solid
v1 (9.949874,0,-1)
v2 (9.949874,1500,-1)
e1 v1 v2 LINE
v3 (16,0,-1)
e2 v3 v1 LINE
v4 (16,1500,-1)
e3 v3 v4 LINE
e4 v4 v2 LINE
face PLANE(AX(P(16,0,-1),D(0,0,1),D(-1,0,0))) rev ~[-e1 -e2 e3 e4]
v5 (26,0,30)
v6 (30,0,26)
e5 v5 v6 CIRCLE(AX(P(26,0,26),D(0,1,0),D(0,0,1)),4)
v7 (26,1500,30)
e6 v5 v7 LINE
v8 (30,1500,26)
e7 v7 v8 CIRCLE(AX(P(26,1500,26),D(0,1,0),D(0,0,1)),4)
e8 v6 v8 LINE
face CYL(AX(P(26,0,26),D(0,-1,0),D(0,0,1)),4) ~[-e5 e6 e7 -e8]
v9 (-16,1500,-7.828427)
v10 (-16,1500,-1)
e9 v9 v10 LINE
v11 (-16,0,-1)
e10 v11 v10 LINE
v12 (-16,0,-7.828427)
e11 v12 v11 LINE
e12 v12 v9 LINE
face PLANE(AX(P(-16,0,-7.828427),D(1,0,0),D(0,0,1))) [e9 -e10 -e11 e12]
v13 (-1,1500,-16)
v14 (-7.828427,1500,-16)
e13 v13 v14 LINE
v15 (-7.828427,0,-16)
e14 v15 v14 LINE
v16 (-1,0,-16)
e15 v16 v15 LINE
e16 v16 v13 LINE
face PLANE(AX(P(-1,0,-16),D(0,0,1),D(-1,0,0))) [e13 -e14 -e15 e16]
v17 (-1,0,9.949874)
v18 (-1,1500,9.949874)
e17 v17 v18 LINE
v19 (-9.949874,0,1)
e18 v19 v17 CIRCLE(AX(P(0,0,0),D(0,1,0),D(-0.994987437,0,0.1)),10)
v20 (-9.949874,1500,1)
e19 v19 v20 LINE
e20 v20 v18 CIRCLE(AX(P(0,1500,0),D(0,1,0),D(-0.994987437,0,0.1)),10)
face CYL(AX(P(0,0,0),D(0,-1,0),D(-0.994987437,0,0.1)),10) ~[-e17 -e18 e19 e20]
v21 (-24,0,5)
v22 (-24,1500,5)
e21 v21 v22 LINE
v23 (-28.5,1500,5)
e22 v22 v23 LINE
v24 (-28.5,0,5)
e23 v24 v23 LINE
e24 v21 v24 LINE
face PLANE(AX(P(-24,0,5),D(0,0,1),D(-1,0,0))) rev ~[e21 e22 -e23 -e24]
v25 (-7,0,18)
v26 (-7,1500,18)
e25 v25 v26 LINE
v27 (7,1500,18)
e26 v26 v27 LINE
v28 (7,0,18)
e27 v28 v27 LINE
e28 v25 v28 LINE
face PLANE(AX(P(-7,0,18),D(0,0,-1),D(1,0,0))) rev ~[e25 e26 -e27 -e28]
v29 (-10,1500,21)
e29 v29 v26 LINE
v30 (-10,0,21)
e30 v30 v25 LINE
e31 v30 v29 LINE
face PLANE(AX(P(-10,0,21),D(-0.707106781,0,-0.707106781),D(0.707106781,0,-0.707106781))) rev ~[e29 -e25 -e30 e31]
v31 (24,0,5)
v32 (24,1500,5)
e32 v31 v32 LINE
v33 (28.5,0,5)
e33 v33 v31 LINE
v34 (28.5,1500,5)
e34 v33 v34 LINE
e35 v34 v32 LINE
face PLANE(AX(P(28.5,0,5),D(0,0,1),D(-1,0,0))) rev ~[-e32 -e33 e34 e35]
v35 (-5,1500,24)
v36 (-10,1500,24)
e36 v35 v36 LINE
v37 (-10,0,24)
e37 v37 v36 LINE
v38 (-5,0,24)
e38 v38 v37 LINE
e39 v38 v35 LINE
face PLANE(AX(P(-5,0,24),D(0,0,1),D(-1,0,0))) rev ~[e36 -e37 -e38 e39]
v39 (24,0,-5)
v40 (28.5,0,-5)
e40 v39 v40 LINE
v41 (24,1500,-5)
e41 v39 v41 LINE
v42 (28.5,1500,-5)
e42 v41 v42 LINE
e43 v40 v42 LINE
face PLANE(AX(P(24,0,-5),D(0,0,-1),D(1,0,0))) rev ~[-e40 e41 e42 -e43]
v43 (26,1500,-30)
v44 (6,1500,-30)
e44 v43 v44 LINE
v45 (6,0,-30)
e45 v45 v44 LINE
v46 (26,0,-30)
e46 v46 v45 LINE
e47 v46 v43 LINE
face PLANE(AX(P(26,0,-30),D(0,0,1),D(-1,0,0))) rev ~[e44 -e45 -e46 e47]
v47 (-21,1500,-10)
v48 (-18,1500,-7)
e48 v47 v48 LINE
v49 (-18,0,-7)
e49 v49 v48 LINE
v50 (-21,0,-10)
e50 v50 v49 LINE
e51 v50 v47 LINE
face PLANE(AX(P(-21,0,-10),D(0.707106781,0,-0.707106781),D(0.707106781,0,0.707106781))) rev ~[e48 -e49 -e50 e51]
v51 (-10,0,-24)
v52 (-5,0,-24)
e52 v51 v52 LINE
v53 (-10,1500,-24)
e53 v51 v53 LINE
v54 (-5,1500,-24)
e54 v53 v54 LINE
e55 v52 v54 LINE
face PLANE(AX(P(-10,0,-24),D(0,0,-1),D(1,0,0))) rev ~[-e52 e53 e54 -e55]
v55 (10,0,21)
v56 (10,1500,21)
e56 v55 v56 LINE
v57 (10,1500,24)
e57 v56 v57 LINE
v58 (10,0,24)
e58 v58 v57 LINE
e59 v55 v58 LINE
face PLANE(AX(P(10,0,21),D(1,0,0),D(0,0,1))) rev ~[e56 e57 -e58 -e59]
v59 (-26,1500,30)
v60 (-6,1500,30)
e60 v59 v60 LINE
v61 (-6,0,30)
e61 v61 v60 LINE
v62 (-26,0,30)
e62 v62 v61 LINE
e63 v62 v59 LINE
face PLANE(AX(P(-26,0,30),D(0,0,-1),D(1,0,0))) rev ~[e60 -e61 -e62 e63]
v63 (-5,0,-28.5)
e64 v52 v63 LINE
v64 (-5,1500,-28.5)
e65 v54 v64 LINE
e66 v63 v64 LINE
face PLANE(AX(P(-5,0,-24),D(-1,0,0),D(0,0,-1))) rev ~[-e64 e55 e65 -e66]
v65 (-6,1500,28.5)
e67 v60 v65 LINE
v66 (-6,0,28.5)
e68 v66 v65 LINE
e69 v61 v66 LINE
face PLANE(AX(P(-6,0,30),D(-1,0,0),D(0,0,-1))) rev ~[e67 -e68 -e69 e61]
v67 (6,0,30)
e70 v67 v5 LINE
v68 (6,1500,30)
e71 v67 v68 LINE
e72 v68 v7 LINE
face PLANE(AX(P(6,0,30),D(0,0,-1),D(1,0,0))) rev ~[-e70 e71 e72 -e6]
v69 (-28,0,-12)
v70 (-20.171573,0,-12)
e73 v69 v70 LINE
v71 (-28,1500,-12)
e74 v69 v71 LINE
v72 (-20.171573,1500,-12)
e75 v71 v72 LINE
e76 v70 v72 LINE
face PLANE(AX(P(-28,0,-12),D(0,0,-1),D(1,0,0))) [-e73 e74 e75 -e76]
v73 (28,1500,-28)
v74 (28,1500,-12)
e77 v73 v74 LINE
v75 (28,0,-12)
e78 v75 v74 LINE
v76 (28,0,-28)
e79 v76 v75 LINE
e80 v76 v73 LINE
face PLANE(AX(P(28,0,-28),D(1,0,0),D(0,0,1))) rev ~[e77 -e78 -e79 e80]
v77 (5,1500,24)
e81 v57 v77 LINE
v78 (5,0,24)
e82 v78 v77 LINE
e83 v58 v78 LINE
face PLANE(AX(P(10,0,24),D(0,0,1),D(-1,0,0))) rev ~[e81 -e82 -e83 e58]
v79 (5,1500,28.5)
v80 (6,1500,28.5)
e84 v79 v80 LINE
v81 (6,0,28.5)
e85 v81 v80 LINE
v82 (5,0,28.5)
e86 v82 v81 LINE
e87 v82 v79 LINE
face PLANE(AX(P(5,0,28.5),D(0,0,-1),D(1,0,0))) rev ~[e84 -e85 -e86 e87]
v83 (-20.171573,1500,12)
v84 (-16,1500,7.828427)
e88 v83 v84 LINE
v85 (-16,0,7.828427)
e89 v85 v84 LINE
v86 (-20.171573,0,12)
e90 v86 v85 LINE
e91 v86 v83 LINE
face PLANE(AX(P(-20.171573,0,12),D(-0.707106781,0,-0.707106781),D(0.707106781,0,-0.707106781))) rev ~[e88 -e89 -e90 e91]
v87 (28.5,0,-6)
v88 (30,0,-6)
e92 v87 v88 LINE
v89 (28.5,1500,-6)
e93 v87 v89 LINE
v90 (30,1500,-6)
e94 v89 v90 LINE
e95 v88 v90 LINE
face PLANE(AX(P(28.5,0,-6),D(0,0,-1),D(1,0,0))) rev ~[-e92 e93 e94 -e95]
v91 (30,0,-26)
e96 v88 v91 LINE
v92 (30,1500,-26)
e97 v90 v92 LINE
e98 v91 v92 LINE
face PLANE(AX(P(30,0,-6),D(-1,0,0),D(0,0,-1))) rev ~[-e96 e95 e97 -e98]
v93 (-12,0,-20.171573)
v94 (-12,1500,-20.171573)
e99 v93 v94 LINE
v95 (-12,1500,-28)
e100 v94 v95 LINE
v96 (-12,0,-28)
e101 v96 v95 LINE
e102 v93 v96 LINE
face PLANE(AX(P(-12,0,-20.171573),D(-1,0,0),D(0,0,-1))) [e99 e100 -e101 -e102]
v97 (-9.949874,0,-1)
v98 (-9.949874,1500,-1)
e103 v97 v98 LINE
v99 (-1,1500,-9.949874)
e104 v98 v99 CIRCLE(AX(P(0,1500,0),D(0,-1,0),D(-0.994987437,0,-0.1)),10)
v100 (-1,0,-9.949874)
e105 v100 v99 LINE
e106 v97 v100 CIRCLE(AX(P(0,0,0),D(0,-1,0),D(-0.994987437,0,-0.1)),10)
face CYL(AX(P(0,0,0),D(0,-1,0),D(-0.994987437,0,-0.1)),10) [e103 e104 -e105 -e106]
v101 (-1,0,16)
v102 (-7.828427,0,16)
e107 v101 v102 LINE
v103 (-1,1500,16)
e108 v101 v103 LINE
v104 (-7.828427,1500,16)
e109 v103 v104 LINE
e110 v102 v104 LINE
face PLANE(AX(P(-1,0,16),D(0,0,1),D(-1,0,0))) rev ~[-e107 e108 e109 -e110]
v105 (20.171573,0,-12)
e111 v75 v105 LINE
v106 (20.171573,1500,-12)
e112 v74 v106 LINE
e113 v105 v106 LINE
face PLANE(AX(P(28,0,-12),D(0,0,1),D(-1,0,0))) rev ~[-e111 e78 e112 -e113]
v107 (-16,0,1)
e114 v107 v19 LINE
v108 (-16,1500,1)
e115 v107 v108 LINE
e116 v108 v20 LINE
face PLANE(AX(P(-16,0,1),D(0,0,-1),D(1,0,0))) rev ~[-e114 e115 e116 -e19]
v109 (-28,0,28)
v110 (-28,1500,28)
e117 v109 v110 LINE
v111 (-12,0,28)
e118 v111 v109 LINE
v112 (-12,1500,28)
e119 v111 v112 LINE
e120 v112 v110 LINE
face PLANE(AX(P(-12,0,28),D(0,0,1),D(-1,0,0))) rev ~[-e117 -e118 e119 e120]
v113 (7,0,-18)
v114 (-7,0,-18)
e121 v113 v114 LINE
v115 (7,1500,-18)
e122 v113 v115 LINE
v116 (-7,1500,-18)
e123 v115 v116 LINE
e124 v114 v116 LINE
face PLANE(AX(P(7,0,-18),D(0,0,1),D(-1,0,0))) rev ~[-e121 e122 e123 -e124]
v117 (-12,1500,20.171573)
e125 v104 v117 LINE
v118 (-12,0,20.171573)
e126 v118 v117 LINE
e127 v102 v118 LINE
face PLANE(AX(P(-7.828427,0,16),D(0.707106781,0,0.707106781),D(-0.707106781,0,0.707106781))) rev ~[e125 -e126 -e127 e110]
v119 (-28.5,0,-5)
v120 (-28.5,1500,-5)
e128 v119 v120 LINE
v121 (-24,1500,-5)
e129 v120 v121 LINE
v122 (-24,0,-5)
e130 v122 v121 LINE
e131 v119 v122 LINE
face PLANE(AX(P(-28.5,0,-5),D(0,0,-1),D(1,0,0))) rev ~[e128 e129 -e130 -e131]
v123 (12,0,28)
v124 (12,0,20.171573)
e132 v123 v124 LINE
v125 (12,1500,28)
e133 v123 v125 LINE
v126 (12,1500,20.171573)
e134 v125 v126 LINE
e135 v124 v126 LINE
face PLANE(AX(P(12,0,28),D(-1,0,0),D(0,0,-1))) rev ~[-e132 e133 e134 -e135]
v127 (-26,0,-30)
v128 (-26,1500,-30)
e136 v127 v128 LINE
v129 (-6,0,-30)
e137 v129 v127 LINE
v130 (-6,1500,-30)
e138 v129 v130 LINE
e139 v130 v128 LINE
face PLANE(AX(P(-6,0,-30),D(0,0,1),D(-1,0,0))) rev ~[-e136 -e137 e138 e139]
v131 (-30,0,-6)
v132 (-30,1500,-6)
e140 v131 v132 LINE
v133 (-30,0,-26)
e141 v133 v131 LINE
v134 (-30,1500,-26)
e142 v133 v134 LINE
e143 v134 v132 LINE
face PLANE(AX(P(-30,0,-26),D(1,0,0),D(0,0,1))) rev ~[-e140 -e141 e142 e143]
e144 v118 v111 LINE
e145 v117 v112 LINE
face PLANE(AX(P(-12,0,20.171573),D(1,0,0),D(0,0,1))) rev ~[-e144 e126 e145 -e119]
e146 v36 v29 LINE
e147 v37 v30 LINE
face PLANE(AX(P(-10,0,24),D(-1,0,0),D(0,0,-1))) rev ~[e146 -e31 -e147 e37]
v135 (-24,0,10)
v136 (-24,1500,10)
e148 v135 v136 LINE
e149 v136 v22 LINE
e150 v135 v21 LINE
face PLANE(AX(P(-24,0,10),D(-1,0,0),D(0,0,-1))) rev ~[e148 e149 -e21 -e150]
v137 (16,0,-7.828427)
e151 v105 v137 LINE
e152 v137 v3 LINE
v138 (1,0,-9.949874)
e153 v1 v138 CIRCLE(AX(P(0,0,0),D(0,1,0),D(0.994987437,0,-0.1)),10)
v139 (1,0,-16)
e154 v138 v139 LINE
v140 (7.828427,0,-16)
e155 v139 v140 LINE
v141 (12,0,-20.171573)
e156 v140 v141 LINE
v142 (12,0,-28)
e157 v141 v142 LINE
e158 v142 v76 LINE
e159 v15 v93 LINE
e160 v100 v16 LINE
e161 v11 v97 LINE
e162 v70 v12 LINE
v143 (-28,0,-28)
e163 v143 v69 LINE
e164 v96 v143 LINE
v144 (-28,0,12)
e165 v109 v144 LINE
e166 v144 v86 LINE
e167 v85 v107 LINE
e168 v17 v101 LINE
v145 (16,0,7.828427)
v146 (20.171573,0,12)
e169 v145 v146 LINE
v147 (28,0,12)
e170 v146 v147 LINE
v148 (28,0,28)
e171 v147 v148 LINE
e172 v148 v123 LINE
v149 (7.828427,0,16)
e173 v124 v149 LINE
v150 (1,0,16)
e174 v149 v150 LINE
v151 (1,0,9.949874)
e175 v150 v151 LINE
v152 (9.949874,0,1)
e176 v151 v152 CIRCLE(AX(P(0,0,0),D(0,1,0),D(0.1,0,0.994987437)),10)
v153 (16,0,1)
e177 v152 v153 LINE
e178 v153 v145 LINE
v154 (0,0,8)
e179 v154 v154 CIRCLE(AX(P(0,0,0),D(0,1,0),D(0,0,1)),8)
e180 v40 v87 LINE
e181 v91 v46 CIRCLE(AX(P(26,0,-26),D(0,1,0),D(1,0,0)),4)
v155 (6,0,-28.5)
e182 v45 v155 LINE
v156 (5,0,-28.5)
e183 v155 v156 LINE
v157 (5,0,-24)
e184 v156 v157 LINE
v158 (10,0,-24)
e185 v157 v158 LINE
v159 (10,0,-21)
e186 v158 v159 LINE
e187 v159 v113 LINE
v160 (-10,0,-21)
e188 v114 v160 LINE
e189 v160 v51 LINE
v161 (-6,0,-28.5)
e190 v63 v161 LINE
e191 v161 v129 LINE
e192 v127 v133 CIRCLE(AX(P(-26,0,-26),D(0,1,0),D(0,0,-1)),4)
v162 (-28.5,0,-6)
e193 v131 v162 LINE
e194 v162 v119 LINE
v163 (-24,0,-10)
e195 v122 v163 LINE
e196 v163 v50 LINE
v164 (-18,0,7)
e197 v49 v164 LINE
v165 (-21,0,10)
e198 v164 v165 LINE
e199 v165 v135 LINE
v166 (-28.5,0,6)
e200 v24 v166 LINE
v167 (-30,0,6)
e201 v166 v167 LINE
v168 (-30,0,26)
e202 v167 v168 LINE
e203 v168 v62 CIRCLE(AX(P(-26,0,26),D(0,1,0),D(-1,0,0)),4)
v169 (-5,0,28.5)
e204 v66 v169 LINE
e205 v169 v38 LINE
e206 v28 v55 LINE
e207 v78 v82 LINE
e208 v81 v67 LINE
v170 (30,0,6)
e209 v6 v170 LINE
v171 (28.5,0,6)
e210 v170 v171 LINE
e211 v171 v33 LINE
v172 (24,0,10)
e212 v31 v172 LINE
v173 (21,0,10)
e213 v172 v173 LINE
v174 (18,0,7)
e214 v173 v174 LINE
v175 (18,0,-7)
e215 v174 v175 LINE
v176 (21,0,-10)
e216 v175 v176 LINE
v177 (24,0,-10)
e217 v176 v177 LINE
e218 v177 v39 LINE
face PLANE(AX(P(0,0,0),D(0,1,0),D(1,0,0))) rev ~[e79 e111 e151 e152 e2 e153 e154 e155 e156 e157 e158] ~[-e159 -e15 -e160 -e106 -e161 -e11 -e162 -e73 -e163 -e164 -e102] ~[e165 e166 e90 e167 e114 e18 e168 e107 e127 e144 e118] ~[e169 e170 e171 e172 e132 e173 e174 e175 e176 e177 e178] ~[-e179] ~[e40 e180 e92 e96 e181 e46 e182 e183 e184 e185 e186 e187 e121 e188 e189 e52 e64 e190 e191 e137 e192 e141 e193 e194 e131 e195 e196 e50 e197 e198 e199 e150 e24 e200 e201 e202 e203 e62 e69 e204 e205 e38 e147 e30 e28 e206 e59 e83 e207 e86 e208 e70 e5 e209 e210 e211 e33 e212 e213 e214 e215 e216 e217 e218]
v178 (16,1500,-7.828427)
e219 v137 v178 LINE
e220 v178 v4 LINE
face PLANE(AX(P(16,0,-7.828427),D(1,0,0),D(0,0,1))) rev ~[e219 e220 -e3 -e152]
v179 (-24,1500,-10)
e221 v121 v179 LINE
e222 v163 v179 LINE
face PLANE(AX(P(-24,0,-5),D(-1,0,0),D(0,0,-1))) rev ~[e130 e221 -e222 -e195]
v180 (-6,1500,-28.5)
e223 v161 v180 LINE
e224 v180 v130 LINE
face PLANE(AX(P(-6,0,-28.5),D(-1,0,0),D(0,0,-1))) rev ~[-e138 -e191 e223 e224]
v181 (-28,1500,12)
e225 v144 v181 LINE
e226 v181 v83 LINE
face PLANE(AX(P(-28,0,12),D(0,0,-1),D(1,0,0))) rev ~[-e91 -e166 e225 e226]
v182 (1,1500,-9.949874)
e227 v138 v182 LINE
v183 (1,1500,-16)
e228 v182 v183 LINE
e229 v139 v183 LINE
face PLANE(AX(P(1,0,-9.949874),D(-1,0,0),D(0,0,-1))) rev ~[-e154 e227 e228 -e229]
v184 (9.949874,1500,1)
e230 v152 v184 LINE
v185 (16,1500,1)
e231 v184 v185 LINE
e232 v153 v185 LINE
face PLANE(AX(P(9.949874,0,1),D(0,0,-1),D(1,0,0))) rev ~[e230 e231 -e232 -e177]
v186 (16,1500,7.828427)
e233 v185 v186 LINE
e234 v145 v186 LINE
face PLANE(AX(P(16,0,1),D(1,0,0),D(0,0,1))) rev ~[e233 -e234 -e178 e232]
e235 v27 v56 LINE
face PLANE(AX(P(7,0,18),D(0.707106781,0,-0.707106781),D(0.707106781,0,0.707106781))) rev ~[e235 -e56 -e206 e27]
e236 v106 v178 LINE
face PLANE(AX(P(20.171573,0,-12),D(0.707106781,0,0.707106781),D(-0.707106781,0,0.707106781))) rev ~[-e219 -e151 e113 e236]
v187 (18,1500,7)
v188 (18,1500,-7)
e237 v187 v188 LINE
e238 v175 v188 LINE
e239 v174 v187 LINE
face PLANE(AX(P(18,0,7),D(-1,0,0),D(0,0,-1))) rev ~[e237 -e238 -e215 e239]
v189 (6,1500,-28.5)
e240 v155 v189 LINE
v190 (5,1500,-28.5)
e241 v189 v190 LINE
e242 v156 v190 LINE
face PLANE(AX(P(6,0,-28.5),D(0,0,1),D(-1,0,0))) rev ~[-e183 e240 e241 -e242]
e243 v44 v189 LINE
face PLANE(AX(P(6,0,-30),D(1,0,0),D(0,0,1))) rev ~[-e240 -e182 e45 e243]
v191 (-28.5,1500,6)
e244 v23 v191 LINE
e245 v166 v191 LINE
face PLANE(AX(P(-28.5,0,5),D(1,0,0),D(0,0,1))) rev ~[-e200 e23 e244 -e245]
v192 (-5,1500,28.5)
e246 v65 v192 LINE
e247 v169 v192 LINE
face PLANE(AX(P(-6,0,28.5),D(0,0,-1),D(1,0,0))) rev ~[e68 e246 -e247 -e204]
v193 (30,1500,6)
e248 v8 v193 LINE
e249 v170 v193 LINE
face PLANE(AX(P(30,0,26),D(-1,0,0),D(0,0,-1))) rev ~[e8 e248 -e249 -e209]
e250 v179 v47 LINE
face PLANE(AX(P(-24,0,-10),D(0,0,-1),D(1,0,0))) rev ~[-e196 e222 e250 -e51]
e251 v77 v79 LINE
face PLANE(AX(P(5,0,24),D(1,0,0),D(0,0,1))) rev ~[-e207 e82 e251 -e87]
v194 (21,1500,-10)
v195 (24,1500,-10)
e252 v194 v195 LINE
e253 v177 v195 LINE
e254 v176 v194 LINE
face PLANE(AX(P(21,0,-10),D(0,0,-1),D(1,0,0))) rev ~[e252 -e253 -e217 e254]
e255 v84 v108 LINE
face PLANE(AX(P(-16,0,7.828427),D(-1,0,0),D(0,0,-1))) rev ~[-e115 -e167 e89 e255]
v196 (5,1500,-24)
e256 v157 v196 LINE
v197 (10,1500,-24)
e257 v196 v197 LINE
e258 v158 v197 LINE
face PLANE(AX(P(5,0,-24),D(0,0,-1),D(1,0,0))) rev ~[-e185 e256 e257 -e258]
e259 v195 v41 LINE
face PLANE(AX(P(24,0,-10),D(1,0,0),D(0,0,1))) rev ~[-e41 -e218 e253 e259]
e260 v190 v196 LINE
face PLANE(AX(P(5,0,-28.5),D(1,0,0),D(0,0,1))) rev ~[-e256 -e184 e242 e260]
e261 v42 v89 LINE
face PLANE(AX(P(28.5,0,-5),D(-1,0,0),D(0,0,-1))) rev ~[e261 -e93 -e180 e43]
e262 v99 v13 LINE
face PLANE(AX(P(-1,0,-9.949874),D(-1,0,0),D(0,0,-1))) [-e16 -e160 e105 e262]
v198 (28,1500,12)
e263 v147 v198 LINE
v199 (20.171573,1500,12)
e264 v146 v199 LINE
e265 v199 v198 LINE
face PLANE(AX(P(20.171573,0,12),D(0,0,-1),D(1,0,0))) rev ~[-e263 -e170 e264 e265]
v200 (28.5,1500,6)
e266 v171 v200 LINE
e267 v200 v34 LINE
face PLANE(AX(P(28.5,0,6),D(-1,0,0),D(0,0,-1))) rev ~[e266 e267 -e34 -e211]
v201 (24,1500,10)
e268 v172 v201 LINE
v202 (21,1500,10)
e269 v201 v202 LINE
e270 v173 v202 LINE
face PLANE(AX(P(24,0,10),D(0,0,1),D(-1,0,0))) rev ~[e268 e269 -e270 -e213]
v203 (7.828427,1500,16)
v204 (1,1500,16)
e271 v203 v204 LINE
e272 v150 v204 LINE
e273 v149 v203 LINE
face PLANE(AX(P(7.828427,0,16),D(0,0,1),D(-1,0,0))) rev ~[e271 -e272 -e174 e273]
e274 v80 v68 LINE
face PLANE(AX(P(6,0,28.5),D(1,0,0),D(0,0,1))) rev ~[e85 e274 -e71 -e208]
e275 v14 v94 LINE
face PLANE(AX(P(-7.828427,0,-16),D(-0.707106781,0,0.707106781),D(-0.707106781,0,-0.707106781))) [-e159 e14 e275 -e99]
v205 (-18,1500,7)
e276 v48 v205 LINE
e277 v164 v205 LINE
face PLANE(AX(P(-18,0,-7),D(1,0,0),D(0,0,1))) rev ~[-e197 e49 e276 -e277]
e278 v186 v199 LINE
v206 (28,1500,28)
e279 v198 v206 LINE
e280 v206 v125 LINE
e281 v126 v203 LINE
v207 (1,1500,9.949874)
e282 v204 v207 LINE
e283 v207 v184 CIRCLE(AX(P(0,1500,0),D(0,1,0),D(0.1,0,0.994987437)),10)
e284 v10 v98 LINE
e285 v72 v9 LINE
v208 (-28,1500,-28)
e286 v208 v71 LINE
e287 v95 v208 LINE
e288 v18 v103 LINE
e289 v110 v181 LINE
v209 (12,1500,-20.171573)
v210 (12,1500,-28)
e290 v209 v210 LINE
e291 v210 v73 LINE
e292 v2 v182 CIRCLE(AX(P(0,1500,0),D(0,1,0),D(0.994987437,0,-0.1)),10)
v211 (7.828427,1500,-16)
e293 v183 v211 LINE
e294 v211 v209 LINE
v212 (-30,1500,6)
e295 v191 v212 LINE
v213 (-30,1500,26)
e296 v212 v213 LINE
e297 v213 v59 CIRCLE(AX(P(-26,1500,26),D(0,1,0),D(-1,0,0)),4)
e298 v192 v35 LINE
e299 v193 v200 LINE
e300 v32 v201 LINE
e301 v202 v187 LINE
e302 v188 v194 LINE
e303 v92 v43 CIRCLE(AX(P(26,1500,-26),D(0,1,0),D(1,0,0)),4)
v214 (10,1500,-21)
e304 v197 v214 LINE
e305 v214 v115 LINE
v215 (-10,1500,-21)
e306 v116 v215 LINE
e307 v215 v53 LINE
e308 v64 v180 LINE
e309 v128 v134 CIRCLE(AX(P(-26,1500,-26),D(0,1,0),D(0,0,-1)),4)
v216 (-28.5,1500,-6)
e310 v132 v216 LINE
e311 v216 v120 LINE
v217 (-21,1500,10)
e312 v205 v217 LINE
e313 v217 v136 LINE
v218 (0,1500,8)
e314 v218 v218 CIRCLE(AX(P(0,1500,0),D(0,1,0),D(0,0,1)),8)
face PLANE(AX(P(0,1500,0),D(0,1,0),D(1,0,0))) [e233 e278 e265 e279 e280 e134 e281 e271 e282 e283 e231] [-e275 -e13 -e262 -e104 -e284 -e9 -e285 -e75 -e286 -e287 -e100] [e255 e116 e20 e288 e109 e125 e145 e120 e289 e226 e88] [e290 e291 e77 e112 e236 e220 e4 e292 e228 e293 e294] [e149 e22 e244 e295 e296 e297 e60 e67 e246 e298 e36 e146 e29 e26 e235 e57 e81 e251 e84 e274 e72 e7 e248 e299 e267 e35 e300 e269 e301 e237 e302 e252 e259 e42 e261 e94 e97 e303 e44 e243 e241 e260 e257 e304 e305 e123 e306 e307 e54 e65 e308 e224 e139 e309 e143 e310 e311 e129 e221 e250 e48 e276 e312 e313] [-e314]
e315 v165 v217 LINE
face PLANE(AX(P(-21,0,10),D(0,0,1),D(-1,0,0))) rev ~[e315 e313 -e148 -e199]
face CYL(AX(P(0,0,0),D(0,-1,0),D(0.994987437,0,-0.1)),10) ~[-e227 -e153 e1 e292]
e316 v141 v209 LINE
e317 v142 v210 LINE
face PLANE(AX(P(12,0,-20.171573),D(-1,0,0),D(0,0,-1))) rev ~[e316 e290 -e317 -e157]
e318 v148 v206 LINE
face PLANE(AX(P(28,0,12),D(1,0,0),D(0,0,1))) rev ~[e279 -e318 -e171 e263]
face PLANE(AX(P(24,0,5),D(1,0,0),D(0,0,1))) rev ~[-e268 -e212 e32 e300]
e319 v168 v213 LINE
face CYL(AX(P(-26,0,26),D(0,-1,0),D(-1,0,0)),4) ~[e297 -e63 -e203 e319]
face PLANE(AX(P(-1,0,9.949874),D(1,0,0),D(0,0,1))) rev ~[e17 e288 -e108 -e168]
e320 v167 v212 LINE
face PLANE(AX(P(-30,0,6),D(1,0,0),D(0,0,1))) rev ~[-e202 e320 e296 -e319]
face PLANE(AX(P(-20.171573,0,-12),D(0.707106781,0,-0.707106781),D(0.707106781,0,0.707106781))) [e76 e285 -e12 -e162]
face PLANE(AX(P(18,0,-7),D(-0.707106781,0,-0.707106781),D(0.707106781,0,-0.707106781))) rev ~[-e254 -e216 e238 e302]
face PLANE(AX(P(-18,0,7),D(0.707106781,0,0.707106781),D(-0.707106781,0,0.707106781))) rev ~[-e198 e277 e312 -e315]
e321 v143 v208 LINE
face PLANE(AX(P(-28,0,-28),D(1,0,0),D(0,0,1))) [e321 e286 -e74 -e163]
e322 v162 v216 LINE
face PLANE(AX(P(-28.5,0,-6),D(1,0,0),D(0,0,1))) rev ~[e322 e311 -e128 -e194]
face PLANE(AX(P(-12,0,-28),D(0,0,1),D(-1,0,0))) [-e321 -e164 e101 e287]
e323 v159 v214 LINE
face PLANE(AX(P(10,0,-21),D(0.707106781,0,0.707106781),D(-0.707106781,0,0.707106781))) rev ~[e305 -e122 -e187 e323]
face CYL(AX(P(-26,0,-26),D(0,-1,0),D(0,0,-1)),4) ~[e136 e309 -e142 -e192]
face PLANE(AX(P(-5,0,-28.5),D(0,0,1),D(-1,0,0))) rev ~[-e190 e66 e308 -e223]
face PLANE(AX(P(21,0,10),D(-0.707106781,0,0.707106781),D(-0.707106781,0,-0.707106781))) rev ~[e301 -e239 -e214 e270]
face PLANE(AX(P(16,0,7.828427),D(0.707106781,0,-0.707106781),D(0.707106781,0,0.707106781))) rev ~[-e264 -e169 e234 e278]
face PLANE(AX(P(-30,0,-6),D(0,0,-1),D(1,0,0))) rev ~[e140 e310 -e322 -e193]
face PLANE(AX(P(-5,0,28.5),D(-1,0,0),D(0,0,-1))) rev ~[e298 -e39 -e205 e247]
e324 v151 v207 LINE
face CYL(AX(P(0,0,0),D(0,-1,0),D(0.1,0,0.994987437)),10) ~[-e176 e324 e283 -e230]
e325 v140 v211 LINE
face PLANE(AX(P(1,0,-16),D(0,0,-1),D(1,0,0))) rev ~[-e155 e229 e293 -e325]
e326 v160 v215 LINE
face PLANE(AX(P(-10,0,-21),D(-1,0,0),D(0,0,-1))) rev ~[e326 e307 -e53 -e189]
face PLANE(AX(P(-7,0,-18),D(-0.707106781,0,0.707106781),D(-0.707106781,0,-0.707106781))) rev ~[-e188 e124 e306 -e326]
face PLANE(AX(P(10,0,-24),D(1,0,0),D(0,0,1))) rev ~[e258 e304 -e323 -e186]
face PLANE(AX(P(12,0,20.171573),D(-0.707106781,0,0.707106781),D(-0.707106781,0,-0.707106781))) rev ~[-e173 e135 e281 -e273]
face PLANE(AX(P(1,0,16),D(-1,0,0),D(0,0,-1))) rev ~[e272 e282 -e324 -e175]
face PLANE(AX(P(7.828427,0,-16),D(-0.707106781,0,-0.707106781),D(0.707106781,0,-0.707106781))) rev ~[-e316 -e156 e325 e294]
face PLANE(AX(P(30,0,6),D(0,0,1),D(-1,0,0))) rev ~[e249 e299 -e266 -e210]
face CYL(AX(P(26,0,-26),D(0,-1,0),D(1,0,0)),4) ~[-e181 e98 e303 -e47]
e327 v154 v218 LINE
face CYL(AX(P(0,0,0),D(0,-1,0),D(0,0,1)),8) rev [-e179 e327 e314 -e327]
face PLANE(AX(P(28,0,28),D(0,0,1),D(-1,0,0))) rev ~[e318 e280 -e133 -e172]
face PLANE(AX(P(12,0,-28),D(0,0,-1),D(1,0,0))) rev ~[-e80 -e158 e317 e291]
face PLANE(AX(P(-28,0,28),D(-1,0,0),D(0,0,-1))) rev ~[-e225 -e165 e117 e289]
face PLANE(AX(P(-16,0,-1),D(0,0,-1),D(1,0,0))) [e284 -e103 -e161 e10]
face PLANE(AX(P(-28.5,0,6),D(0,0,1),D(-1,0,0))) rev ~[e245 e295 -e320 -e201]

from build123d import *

# Parameters (mm, degrees)
SKETCH_1_R      = 8
EXTRUDE_1_DEPTH = 1500


with BuildPart() as part:
    # 草图1 → 凸台-拉伸1 (new body)
    with BuildSketch(Plane(origin=(0, 0, 0), x_dir=(1, 0, 0), z_dir=(0, 1, 0))):
        with BuildLine():
            Line((-30, 5.999999999), (-28.5, 5.999999999))
            Line((-28.5, 5.999999999), (-28.5, 4.999999999))
            Line((-28.5, 4.999999999), (-24, 4.999999999))
            Line((-24, 4.999999999), (-24, 9.999999999))
            Line((-24, 9.999999999), (-21, 9.999999999))
            Line((-21, 9.999999999), (-18, 6.999999999))
            Line((-18, 6.999999999), (-18, -7.000000001))
            Line((-18, -7.000000001), (-21, -10.000000001))
            Line((-21, -10.000000001), (-24, -10.000000001))
            Line((-24, -10.000000001), (-24, -5.000000001))
            Line((-24, -5.000000001), (-28.5, -5.000000001))
            Line((-28.5, -5.000000001), (-28.5, -6.000000001))
            Line((-28.5, -6.000000001), (-30, -6.000000001))
            Line((-30, -6.000000001), (-30, -26.000000001))
            ThreePointArc((-30, -26.000000001), (-28.828427125, -28.828427126), (-26, -30.000000001))
            Line((-26, -30.000000001), (-6, -30.000000001))
            Line((-6, -30.000000001), (-6, -28.500000001))
            Line((-6, -28.500000001), (-5, -28.500000001))
            Line((-5, -28.500000001), (-5, -24.000000001))
            Line((-5, -24.000000001), (-10, -24.000000001))
            Line((-10, -24.000000001), (-10, -21.000000001))
            Line((-10, -21.000000001), (-7, -18.000000001))
            Line((-7, -18.000000001), (7, -18.000000001))
            Line((7, -18.000000001), (10, -21.000000001))
            Line((10, -21.000000001), (10, -24.000000001))
            Line((10, -24.000000001), (5, -24.000000001))
            Line((5, -24.000000001), (5, -28.500000001))
            Line((5, -28.500000001), (6, -28.500000001))
            Line((6, -28.500000001), (6, -30.000000001))
            Line((6, -30.000000001), (26, -30.000000001))
            ThreePointArc((26, -30.000000001), (28.828427125, -28.828427126), (30, -26.000000001))
            Line((30, -26.000000001), (30, -6.000000001))
            Line((30, -6.000000001), (28.5, -6.000000001))
            Line((28.5, -6.000000001), (28.5, -5.000000001))
            Line((28.5, -5.000000001), (24, -5.000000001))
            Line((24, -5.000000001), (24, -10.000000001))
            Line((24, -10.000000001), (21, -10.000000001))
            Line((21, -10.000000001), (18, -7.000000001))
            Line((18, -7.000000001), (18, 6.999999999))
            Line((18, 6.999999999), (21, 9.999999999))
            Line((21, 9.999999999), (24, 9.999999999))
            Line((24, 9.999999999), (24, 4.999999999))
            Line((24, 4.999999999), (28.5, 4.999999999))
            Line((28.5, 4.999999999), (28.5, 5.999999999))
            Line((28.5, 5.999999999), (30, 5.999999999))
            Line((30, 5.999999999), (30, 25.999999999))
            ThreePointArc((30, 25.999999999), (28.828427125, 28.828427124), (26, 29.999999999))
            Line((26, 29.999999999), (6, 29.999999999))
            Line((6, 29.999999999), (6, 28.499999999))
            Line((6, 28.499999999), (5, 28.499999999))
            Line((5, 28.499999999), (5, 23.999999999))
            Line((5, 23.999999999), (10, 23.999999999))
            Line((10, 23.999999999), (10, 20.999999999))
            Line((10, 20.999999999), (7, 17.999999999))
            Line((7, 17.999999999), (-7, 17.999999999))
            Line((-7, 17.999999999), (-10, 20.999999999))
            Line((-10, 20.999999999), (-10, 23.999999999))
            Line((-10, 23.999999999), (-5, 23.999999999))
            Line((-5, 23.999999999), (-5, 28.499999999))
            Line((-5, 28.499999999), (-6, 28.499999999))
            Line((-6, 28.499999999), (-6, 29.999999999))
            Line((-6, 29.999999999), (-26.000000001, 29.999999999))
            ThreePointArc((-26.000000001, 29.999999999), (-28.828427125, 28.828427123), (-30, 25.999999999))
            Line((-30, 25.999999999), (-30, 5.999999999))
        make_face()
        with Locations(Location((0, 0, 0), (0, 0, 270))):
            Circle(SKETCH_1_R, mode=Mode.SUBTRACT)
        with BuildLine():
            Line((-16, 1), (-9.949874371, 1))
            ThreePointArc((-9.949874371, 1), (-7.071067812, 7.071067811), (-1.000000001, 9.949874371))
            Line((-1.000000001, 9.949874371), (-1.000000001, 16))
            Line((-1.000000001, 16), (-7.828427125, 16))
            Line((-7.828427125, 16), (-12, 20.171572875))
            Line((-12, 20.171572875), (-12, 28))
            Line((-12, 28), (-28, 28))
            Line((-28, 28), (-28, 12))
            Line((-28, 12), (-20.171572875, 12))
            Line((-20.171572875, 12), (-16, 7.828427125))
            Line((-16, 7.828427125), (-16, 1))
        make_face(mode=Mode.SUBTRACT)
        with BuildLine():
            Line((1, 9.949874371), (1, 16))
            Line((1, 16), (7.828427125, 16))
            Line((7.828427125, 16), (12, 20.171572875))
            Line((12, 20.171572875), (12, 28))
            Line((12, 28), (28, 28))
            Line((28, 28), (28, 12.000000001))
            Line((28, 12.000000001), (20.171572875, 12.000000001))
            Line((20.171572875, 12.000000001), (16, 7.828427126))
            Line((16, 7.828427126), (16, 1.000000001))
            Line((16, 1.000000001), (9.949874371, 1.000000001))
            ThreePointArc((9.949874371, 1.000000001), (7.071067811, 7.071067812), (1, 9.949874371))
        make_face(mode=Mode.SUBTRACT)
        with BuildLine():
            Line((9.949874371, -1), (16, -1))
            Line((16, -1), (16, -7.828427125))
            Line((16, -7.828427125), (20.171572875, -12))
            Line((20.171572875, -12), (28.000000001, -12))
            Line((28.000000001, -12), (28.000000001, -28))
            Line((28.000000001, -28), (12.000000001, -28))
            Line((12.000000001, -28), (12.000000001, -20.171572875))
            Line((12.000000001, -20.171572875), (7.828427126, -16))
            Line((7.828427126, -16), (1.000000001, -16))
            Line((1.000000001, -16), (1.000000001, -9.949874371))
            ThreePointArc((1.000000001, -9.949874371), (7.071067812, -7.071067811), (9.949874371, -1))
        make_face(mode=Mode.SUBTRACT)
        with BuildLine():
            Line((-1, -9.949874371), (-1, -16.000000001))
            Line((-1, -16.000000001), (-7.828427125, -16.000000001))
            Line((-7.828427125, -16.000000001), (-12, -20.171572876))
            Line((-12, -20.171572876), (-12, -28.000000001))
            Line((-12, -28.000000001), (-28, -28.000000001))
            Line((-28, -28.000000001), (-28, -12.000000001))
            Line((-28, -12.000000001), (-20.171572875, -12.000000001))
            Line((-20.171572875, -12.000000001), (-16, -7.828427126))
            Line((-16, -7.828427126), (-16, -1.000000001))
            Line((-16, -1.000000001), (-9.949874371, -1.000000001))
            ThreePointArc((-9.949874371, -1.000000001), (-7.071067811, -7.071067812), (-1, -9.949874371))
        make_face(mode=Mode.SUBTRACT)
    extrude(amount=EXTRUDE_1_DEPTH)


solid = part.part
